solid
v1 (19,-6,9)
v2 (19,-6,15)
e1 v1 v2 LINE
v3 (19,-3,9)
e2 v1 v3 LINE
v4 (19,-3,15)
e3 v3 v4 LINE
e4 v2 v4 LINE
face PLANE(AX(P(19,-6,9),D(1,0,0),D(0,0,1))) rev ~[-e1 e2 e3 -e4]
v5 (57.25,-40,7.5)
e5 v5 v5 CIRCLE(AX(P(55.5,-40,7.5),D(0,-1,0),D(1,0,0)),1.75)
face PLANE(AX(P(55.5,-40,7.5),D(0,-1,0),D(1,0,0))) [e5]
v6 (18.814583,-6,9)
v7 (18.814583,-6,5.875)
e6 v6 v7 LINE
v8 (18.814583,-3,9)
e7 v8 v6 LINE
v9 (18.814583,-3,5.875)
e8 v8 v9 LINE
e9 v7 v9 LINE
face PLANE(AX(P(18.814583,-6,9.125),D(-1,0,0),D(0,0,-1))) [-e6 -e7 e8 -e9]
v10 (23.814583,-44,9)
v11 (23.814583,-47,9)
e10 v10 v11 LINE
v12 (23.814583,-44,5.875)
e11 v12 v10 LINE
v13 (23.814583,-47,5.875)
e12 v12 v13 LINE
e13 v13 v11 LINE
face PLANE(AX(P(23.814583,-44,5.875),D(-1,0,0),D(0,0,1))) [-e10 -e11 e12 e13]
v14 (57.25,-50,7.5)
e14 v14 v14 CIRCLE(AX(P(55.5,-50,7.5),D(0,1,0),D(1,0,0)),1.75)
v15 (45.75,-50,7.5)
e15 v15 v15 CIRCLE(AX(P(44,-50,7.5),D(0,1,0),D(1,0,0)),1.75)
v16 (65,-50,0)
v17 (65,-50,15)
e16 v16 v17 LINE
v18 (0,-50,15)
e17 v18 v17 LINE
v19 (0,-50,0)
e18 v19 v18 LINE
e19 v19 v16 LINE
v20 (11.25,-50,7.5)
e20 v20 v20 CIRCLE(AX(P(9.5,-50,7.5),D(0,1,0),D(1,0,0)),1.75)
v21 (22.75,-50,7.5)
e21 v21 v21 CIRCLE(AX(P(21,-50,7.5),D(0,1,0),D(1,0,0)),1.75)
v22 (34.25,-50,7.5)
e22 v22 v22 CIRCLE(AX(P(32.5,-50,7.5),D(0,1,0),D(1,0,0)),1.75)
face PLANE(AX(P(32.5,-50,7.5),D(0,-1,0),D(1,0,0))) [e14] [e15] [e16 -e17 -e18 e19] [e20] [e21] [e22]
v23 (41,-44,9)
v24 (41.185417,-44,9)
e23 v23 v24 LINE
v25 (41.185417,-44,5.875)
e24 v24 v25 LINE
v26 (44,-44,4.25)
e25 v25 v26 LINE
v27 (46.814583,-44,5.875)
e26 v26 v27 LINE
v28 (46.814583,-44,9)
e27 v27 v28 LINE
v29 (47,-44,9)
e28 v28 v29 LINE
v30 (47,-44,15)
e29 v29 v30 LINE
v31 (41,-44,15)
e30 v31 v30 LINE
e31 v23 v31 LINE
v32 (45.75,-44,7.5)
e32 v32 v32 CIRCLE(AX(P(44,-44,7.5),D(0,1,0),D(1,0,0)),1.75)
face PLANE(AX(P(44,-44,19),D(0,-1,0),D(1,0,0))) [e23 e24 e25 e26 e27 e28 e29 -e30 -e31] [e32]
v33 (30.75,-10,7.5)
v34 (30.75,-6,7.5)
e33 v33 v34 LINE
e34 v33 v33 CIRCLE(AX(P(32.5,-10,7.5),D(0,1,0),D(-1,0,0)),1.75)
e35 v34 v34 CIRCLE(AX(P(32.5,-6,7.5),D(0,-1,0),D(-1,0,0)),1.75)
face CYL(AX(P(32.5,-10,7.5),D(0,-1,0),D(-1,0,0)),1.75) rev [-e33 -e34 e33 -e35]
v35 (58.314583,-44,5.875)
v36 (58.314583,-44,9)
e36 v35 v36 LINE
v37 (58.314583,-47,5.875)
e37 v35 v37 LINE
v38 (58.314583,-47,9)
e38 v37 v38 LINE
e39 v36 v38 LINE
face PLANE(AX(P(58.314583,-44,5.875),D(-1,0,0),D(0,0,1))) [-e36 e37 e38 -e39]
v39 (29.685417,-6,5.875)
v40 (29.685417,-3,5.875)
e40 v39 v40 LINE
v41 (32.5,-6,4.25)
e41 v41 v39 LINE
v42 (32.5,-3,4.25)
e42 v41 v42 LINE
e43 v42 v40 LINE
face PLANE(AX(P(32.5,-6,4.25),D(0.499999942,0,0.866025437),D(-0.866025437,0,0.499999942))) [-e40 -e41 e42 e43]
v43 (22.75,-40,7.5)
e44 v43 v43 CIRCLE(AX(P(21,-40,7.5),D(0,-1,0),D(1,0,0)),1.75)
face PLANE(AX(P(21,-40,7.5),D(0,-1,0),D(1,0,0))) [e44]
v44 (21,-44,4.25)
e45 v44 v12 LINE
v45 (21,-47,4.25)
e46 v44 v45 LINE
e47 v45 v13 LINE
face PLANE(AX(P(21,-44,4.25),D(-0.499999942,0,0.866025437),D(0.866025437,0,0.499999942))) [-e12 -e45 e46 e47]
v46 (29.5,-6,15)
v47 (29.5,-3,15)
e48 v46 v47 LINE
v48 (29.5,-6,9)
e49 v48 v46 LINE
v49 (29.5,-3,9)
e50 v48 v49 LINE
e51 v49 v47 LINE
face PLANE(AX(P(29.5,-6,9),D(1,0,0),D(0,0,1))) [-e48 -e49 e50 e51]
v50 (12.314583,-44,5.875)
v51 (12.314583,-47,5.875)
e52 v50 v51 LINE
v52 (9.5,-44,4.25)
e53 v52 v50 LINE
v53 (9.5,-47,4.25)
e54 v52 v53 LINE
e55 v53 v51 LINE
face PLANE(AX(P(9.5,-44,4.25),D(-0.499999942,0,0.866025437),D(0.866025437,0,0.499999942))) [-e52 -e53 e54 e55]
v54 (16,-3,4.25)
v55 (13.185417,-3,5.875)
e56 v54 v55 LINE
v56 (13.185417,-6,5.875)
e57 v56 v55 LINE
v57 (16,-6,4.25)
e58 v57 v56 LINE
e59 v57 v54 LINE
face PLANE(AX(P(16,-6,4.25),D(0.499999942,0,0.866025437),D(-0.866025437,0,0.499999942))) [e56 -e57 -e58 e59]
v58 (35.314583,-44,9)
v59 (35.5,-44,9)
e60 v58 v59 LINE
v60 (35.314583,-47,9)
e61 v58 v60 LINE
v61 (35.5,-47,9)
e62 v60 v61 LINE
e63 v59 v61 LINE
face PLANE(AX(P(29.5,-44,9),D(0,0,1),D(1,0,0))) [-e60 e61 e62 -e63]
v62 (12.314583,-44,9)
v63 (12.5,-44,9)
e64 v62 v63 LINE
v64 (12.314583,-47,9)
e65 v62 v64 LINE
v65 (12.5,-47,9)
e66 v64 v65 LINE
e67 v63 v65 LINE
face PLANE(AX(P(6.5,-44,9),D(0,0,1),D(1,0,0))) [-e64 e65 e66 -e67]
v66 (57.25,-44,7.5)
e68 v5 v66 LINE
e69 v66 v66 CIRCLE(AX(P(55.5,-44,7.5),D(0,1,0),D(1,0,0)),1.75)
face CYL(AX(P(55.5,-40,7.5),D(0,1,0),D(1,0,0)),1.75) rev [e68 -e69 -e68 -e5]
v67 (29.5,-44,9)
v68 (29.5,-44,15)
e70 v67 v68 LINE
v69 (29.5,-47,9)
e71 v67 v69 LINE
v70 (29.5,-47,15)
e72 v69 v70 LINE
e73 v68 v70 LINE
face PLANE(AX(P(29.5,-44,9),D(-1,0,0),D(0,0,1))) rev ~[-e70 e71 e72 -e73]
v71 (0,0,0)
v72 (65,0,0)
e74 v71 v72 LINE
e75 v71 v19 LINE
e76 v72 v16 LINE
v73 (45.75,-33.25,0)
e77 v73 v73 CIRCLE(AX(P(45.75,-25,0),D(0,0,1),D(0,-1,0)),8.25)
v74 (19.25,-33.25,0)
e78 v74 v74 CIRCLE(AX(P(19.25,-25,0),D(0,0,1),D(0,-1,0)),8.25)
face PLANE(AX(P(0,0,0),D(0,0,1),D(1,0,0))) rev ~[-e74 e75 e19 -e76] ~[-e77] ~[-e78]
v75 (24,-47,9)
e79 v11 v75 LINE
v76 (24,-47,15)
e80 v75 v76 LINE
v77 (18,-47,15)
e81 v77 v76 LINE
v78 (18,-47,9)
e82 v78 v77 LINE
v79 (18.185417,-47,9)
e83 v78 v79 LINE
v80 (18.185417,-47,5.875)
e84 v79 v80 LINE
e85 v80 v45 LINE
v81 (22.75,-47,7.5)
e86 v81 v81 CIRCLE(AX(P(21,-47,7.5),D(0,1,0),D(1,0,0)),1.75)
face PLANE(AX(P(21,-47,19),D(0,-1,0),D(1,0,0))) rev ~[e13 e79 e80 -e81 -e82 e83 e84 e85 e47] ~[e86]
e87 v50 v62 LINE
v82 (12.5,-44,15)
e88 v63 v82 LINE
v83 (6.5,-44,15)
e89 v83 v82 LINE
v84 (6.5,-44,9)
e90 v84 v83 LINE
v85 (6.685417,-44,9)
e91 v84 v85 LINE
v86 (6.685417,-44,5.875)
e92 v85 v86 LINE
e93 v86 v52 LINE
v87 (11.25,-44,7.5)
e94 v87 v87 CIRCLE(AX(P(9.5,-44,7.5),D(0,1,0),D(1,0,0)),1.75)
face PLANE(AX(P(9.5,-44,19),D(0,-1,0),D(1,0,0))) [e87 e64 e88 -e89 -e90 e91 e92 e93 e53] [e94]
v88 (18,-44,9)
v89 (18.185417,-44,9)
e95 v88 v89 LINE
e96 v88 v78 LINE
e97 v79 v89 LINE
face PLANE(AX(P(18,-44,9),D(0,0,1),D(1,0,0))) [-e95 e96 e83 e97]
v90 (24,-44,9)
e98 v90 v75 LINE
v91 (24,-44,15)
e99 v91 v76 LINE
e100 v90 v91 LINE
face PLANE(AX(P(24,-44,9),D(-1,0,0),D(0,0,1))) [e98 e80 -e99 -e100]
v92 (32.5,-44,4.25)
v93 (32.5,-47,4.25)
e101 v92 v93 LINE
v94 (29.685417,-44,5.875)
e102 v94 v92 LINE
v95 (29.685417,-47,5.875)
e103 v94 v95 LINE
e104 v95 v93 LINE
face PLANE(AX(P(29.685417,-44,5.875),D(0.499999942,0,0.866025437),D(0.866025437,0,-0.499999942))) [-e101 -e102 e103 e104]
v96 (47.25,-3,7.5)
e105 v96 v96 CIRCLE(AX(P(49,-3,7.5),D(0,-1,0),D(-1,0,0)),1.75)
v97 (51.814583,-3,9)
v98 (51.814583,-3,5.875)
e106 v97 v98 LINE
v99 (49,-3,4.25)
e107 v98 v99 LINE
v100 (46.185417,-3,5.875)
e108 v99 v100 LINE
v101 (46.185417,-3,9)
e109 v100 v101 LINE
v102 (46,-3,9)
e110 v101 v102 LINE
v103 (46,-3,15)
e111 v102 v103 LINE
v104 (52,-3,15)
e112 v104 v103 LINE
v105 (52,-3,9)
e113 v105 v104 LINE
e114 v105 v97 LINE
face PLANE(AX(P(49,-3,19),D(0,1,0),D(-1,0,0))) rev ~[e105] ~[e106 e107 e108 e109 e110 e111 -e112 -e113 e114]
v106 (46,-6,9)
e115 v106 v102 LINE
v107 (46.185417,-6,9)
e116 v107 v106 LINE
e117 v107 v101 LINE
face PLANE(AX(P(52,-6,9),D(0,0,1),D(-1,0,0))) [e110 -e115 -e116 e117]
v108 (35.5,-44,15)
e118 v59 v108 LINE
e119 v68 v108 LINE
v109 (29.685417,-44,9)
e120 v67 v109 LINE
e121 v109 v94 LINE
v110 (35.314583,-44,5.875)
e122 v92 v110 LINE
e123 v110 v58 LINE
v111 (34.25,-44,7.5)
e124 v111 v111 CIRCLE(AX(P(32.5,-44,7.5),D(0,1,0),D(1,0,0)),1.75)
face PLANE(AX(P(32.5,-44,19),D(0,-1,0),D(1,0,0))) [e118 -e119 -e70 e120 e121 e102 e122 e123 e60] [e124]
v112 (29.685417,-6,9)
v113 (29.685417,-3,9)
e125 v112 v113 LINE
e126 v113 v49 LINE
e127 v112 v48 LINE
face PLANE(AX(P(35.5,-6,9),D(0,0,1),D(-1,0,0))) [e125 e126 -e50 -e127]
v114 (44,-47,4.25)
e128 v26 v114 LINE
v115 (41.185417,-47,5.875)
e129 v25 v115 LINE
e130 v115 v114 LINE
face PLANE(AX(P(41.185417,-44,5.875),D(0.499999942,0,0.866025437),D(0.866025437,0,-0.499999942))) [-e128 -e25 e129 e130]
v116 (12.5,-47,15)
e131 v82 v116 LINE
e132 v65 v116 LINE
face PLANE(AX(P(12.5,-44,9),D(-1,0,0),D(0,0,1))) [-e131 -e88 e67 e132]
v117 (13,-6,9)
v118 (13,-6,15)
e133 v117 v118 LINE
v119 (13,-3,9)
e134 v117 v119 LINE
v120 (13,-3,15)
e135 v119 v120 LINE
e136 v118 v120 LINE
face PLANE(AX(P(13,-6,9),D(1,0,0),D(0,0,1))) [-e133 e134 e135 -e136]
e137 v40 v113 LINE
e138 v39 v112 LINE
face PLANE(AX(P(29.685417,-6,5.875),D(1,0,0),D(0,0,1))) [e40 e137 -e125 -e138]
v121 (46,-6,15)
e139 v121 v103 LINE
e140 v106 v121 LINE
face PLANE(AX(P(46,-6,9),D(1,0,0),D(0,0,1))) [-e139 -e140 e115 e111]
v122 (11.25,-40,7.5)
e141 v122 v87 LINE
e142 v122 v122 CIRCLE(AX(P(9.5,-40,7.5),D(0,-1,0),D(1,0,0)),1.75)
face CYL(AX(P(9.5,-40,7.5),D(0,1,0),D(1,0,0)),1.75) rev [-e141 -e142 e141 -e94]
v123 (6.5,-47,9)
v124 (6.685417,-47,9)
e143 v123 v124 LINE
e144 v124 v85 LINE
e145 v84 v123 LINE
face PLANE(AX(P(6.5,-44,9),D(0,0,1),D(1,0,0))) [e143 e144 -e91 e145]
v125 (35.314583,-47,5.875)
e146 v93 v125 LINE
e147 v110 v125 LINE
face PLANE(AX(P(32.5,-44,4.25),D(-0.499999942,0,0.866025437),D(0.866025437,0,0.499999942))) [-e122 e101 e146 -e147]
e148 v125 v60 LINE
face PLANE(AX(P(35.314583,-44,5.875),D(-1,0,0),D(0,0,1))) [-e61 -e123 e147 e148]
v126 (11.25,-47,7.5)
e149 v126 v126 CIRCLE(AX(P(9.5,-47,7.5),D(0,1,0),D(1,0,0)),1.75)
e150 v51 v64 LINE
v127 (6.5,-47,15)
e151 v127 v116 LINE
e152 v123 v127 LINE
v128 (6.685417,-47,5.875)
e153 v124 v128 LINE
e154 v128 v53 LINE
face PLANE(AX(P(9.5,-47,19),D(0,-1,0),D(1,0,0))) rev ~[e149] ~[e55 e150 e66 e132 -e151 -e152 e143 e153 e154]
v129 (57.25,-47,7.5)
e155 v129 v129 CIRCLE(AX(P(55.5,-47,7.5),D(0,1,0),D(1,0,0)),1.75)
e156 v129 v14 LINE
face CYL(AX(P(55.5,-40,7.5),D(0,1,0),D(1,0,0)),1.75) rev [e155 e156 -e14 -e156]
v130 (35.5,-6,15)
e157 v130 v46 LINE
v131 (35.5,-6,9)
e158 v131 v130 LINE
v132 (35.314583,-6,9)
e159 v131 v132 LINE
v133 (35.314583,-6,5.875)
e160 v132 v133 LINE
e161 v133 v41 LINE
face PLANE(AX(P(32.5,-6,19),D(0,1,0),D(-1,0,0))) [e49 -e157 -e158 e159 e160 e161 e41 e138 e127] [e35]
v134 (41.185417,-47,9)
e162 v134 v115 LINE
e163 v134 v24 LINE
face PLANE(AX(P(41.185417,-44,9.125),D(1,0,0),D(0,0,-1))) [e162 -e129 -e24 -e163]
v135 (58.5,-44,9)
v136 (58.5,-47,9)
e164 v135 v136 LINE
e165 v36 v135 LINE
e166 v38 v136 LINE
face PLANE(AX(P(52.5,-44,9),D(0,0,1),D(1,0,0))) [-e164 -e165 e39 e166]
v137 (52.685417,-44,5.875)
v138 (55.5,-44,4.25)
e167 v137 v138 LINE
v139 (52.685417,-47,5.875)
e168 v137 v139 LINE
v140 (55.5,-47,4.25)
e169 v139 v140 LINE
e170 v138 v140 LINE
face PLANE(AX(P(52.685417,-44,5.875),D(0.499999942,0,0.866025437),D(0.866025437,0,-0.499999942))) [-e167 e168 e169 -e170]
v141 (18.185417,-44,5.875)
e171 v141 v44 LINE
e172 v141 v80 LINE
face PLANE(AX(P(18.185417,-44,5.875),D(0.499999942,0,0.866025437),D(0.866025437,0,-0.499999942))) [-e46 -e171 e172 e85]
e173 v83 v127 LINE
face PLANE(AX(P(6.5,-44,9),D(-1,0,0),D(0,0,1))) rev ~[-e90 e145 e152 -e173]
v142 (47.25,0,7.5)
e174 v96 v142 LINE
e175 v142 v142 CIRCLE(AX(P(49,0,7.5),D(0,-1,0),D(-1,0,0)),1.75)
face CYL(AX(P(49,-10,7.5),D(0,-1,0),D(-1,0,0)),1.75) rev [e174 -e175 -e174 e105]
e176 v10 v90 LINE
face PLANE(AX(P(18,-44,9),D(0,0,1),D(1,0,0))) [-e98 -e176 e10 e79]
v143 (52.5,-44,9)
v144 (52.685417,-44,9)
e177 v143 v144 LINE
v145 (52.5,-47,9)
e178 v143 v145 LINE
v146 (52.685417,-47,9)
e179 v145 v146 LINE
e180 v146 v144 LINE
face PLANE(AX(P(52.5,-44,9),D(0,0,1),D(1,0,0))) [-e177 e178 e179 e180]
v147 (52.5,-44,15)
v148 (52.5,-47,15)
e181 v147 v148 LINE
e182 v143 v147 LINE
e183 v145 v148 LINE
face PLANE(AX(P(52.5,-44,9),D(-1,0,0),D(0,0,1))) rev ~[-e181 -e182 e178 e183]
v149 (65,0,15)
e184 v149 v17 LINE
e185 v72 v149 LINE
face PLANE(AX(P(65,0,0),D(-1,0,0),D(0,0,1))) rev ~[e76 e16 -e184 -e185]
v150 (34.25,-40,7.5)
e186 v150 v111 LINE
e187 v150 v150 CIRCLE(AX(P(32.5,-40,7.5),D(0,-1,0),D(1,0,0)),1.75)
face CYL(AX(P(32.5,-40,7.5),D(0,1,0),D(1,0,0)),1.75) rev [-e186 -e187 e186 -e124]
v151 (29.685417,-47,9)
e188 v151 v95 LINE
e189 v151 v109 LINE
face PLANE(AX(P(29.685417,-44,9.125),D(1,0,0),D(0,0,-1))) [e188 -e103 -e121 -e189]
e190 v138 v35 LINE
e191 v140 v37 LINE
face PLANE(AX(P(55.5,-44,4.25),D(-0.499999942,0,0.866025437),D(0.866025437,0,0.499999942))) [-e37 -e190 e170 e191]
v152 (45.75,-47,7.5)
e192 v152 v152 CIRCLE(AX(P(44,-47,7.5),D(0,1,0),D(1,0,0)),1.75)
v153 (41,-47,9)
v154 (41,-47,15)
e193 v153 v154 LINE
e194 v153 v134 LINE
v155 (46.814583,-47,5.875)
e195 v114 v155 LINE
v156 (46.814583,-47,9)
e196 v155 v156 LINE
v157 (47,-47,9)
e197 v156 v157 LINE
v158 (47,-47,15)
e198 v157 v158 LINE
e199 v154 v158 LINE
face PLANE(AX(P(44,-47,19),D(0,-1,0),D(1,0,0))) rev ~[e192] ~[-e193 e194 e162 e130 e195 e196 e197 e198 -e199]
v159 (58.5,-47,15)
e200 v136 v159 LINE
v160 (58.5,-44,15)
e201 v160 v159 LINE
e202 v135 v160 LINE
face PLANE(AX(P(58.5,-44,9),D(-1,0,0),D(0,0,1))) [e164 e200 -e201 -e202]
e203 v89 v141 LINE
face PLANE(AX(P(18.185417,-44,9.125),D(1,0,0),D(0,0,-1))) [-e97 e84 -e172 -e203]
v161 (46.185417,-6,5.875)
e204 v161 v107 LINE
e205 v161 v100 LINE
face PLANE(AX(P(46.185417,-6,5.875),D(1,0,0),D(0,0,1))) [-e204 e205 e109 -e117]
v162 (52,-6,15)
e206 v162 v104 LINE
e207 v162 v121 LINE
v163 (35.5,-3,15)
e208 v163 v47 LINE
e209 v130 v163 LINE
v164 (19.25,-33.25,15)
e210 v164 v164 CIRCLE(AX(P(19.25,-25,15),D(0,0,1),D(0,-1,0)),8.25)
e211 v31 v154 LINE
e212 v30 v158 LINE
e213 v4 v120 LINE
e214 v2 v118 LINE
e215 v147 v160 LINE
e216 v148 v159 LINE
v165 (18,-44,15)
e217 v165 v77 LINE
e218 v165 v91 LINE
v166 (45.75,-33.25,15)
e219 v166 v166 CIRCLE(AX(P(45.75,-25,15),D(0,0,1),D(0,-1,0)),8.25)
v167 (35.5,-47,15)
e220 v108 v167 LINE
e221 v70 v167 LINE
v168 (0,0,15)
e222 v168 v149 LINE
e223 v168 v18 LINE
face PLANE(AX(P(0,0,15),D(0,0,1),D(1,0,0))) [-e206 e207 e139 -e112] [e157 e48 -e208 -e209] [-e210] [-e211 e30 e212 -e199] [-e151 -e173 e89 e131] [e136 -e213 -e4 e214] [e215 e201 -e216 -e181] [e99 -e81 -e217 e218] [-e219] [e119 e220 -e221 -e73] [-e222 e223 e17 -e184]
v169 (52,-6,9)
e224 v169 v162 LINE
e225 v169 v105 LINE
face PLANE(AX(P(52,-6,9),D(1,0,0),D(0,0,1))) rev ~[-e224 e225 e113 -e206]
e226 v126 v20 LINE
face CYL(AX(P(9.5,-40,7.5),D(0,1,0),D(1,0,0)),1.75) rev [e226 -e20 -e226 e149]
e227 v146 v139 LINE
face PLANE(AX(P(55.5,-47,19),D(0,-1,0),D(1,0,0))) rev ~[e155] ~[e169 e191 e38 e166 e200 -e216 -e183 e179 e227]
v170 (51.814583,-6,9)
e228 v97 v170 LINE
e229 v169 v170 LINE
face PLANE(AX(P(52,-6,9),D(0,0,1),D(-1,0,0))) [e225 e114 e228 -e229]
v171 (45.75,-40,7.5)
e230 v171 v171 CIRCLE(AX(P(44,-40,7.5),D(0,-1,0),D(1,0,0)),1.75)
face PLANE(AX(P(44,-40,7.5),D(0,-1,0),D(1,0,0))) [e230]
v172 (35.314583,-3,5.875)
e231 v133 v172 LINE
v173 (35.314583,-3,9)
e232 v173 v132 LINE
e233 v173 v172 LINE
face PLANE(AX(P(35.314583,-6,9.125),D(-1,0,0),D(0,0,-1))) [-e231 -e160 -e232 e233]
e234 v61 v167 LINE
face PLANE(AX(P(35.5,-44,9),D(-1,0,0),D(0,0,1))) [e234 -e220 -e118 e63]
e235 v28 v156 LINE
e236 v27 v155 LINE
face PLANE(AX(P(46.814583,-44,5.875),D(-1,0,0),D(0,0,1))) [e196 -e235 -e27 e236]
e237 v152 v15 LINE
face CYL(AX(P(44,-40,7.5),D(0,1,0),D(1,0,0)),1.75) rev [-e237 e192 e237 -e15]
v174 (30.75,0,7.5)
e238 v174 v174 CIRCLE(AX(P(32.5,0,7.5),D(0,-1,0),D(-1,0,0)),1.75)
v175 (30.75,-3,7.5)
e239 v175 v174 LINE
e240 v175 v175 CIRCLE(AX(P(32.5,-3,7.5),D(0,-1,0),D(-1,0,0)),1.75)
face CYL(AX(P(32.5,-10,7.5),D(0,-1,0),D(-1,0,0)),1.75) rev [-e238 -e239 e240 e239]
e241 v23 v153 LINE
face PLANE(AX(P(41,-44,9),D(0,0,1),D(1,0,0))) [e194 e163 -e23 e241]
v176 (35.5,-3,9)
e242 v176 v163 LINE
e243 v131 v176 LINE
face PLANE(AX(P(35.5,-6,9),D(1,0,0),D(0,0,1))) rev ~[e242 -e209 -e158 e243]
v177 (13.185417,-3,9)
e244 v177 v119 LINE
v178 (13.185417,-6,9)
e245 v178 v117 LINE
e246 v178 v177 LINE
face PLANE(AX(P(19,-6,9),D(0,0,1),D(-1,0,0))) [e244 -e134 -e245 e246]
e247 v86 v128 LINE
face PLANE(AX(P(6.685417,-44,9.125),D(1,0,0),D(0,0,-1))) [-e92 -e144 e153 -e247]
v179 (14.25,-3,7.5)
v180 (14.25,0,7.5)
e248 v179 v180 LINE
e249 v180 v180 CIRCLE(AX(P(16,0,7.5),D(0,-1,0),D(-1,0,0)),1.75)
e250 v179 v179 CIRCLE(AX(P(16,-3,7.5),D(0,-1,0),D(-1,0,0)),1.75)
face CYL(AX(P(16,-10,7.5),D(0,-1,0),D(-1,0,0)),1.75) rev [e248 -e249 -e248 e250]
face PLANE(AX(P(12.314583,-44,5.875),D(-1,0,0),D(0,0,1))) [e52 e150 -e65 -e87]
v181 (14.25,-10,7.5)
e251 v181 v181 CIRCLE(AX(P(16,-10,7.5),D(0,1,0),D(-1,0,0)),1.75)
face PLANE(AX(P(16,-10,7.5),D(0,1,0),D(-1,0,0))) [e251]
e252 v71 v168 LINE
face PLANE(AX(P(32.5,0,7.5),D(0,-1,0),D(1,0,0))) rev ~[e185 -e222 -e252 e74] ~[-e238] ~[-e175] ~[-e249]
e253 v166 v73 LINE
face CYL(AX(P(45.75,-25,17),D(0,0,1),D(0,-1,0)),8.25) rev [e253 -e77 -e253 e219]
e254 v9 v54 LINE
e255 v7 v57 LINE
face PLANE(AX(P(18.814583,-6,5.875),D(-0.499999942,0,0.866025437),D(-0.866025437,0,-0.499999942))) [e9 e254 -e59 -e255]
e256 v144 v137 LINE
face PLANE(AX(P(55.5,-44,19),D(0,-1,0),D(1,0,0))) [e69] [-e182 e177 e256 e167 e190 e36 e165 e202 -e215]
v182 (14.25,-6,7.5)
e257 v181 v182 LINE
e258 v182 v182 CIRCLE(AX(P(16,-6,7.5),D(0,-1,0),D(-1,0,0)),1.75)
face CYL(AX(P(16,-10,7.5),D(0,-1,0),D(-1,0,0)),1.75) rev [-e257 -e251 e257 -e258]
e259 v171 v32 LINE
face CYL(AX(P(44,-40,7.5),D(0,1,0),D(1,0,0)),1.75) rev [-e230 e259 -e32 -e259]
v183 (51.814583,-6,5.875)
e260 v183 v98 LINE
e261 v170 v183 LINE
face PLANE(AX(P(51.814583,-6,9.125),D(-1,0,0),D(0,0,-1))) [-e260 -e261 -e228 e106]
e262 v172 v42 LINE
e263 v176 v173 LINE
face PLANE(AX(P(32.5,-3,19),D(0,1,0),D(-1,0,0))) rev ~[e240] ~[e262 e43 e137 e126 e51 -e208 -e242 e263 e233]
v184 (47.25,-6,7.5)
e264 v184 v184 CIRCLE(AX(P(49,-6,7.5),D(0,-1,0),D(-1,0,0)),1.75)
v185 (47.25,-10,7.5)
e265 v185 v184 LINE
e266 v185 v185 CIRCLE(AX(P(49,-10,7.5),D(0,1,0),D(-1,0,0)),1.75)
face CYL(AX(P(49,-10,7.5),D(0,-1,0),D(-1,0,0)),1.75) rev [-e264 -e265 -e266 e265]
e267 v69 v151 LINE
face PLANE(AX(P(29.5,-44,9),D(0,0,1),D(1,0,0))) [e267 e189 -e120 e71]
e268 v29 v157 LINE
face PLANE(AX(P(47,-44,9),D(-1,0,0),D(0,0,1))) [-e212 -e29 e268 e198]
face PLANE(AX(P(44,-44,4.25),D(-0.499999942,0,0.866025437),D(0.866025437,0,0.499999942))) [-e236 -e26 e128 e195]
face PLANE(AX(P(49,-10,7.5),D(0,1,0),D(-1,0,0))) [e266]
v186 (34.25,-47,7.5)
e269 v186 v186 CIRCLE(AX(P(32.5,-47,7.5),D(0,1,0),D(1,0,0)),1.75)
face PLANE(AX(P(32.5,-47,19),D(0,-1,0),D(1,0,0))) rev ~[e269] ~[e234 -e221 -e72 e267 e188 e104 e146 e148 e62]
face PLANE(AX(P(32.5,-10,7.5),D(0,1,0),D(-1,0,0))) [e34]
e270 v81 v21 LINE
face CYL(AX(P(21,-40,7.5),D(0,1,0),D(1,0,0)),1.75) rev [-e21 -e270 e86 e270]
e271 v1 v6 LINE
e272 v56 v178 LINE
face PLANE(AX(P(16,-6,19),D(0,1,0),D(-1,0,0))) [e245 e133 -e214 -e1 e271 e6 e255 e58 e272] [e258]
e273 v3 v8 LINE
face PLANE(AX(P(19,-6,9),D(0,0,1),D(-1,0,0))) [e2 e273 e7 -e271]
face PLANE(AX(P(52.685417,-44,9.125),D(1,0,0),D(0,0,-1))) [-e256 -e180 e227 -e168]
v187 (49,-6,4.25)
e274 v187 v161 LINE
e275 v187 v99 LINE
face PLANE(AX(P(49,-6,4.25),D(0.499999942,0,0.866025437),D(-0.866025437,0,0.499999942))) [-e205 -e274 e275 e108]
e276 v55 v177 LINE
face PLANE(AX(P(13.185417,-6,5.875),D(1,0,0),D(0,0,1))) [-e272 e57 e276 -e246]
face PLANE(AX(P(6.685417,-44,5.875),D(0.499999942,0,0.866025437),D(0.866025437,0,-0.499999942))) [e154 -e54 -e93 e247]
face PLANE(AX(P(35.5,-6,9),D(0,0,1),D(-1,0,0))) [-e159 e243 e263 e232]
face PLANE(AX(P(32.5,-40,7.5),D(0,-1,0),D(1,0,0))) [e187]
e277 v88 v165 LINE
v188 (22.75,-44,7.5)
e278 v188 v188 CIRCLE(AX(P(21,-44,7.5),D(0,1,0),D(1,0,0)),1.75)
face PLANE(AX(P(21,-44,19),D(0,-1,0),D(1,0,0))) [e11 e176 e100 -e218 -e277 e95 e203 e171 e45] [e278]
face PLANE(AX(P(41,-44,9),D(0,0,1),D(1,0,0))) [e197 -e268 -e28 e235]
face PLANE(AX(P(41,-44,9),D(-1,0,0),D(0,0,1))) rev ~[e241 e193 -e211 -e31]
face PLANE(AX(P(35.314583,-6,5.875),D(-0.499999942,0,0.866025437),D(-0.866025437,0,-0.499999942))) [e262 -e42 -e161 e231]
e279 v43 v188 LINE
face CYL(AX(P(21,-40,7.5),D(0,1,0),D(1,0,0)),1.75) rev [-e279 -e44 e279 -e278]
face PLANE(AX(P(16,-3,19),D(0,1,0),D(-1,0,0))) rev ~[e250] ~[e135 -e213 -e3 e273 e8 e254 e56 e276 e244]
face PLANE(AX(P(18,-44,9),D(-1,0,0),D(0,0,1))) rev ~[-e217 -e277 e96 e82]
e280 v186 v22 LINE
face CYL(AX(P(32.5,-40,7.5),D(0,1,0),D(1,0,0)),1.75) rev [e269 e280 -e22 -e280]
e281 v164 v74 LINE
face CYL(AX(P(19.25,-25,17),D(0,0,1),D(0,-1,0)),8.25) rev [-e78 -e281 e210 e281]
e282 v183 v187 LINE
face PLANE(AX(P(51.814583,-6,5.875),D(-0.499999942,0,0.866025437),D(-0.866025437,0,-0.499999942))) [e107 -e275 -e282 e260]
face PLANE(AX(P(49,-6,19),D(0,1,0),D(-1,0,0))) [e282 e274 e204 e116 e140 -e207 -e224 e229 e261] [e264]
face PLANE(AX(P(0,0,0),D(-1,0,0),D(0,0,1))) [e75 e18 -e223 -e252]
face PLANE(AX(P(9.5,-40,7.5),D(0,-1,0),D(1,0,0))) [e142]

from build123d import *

# Parameters (mm, degrees)
PRISM012_DEPTH            = 3
CYLINDER014_R             = 1.75
CYLINDER014_DEPTH         = 20
BOX014_W                  = 6
BOX014_H                  = 20
BOX014_DEPTH              = 3
FUSION015_PLACEMENT_ANGLE = 180
PRISM013_DEPTH            = 3
CYLINDER015_R             = 1.75
CYLINDER015_DEPTH         = 20
BOX015_W                  = 6
BOX015_H                  = 20
BOX015_DEPTH              = 3
FUSION016_PLACEMENT_ANGLE = 180
PRISM014_DEPTH            = 3
CYLINDER016_R             = 1.75
CYLINDER016_DEPTH         = 20
BOX016_W                  = 6
BOX016_H                  = 20
BOX016_DEPTH              = 3
FUSION017_PLACEMENT_ANGLE = 180
PRISM008_DEPTH            = 3
CYLINDER010_R             = 1.75
CYLINDER010_DEPTH         = 20
BOX010_W                  = 6
BOX010_H                  = 20
BOX010_DEPTH              = 3
PRISM009_DEPTH            = 3
CYLINDER011_R             = 1.75
CYLINDER011_DEPTH         = 20
BOX011_W                  = 6
BOX011_H                  = 20
BOX011_DEPTH              = 3
PRISM010_DEPTH            = 3
CYLINDER012_R             = 1.75
CYLINDER012_DEPTH         = 20
BOX012_W                  = 6
BOX012_H                  = 20
BOX012_DEPTH              = 3
PRISM007_DEPTH            = 3
CYLINDER009_R             = 1.75
CYLINDER009_DEPTH         = 20
BOX009_W                  = 6
BOX009_H                  = 20
BOX009_DEPTH              = 3
PRISM011_DEPTH            = 3
CYLINDER013_R             = 1.75
CYLINDER013_DEPTH         = 20
BOX013_W                  = 6
BOX013_H                  = 20
BOX013_DEPTH              = 3
CYLINDER001_R             = 8.25
CYLINDER001_DEPTH         = 20
CYLINDER_R                = 8.25
CYLINDER_DEPTH            = 20
FUSION_PITCH_ANGLE        = -90
FUSION_PLACEMENT_ANGLE    = 90
BOX_W                     = 65
BOX_H                     = 15
BOX_DEPTH                 = 50
CUT002_PLACEMENT_ANGLE    = 90


with BuildPart() as prisma012:
    # Prism012 → Prism012 (new body)
    with BuildSketch(Plane(origin=(34, 7.5, 3), x_dir=(0, 1, 0), z_dir=(0, 0, 1))):
        Polygon((3.25, 0), (1.625, 2.814583), (-1.625, 2.814583), (-3.25, 0), (-1.625, -2.814583), (1.625, -2.814583), align=None)
    extrude(amount=PRISM012_DEPTH)


with BuildPart() as cilindro014:
    # Cylinder014 → Cylinder014 (new body)
    with BuildSketch(Plane(origin=(34, 7.5, -1), x_dir=(1, 0, 0), z_dir=(0, 0, 1))):
        Circle(CYLINDER014_R)
    extrude(amount=CYLINDER014_DEPTH)


with BuildPart() as fusion015:
    # Box014 → Box014 (new body)
    with BuildSketch(Plane(origin=(31, 9, 3), x_dir=(1, 0, 0), z_dir=(0, 0, 1))):
        with Locations((3, 10)):
            Rectangle(BOX014_W, BOX014_H)
    extrude(amount=BOX014_DEPTH)

    # Fusion015: union Prisma012, Cilindro014
    add(prisma012.part)
    add(cilindro014.part)


with BuildPart() as fusion015_1:
    # Fusion015 placement: moved
    add(fusion015.part.moved(Location((44, 0, 9))).rotate(Axis((44, 0, 9), (0, 1, 0)), FUSION015_PLACEMENT_ANGLE))


with BuildPart() as prisma013:
    # Prism013 → Prism013 (new body)
    with BuildSketch(Plane(origin=(34, 7.5, 3), x_dir=(0, 1, 0), z_dir=(0, 0, 1))):
        Polygon((3.25, 0), (1.625, 2.814583), (-1.625, 2.814583), (-3.25, 0), (-1.625, -2.814583), (1.625, -2.814583), align=None)
    extrude(amount=PRISM013_DEPTH)


with BuildPart() as cilindro015:
    # Cylinder015 → Cylinder015 (new body)
    with BuildSketch(Plane(origin=(34, 7.5, -1), x_dir=(1, 0, 0), z_dir=(0, 0, 1))):
        Circle(CYLINDER015_R)
    extrude(amount=CYLINDER015_DEPTH)


with BuildPart() as fusion016:
    # Box015 → Box015 (new body)
    with BuildSketch(Plane(origin=(31, 9, 3), x_dir=(1, 0, 0), z_dir=(0, 0, 1))):
        with Locations((3, 10)):
            Rectangle(BOX015_W, BOX015_H)
    extrude(amount=BOX015_DEPTH)

    # Fusion016: union Prisma013, Cilindro015
    add(prisma013.part)
    add(cilindro015.part)


with BuildPart() as fusion016_1:
    # Fusion016 placement: moved
    add(fusion016.part.moved(Location((60.5, 0, 9))).rotate(Axis((60.5, 0, 9), (0, 1, 0)), FUSION016_PLACEMENT_ANGLE))


with BuildPart() as prisma014:
    # Prism014 → Prism014 (new body)
    with BuildSketch(Plane(origin=(34, 7.5, 3), x_dir=(0, 1, 0), z_dir=(0, 0, 1))):
        Polygon((3.25, 0), (1.625, 2.814583), (-1.625, 2.814583), (-3.25, 0), (-1.625, -2.814583), (1.625, -2.814583), align=None)
    extrude(amount=PRISM014_DEPTH)


with BuildPart() as cilindro016:
    # Cylinder016 → Cylinder016 (new body)
    with BuildSketch(Plane(origin=(34, 7.5, -1), x_dir=(1, 0, 0), z_dir=(0, 0, 1))):
        Circle(CYLINDER016_R)
    extrude(amount=CYLINDER016_DEPTH)


with BuildPart() as fusion018:
    # Box016 → Box016 (new body)
    with BuildSketch(Plane(origin=(31, 9, 3), x_dir=(1, 0, 0), z_dir=(0, 0, 1))):
        with Locations((3, 10)):
            Rectangle(BOX016_W, BOX016_H)
    extrude(amount=BOX016_DEPTH)

    # Fusion017: union Prisma014, Cilindro016
    add(prisma014.part)
    add(cilindro016.part)


with BuildPart() as fusion018_1:
    # Fusion017 placement: moved
    add(fusion018.part.moved(Location((77, 0, 9))).rotate(Axis((77, 0, 9), (0, 1, 0)), FUSION017_PLACEMENT_ANGLE))

    # Fusion018: union Fusion015, Fusion016
    add(fusion015_1.part)
    add(fusion016_1.part)


with BuildPart() as fusion018_2:
    # Fusion018 placement: moved
    add(fusion018_1.part.moved(Location((6, 0, 0))))


with BuildPart() as prisma008:
    # Prism008 → Prism008 (new body)
    with BuildSketch(Plane(origin=(34, 7.5, 3), x_dir=(0, 1, 0), z_dir=(0, 0, 1))):
        Polygon((3.25, 0), (1.625, 2.814583), (-1.625, 2.814583), (-3.25, 0), (-1.625, -2.814583), (1.625, -2.814583), align=None)
    extrude(amount=PRISM008_DEPTH)


with BuildPart() as cilindro010:
    # Cylinder010 → Cylinder010 (new body)
    with BuildSketch(Plane(origin=(34, 7.5, -1), x_dir=(1, 0, 0), z_dir=(0, 0, 1))):
        Circle(CYLINDER010_R)
    extrude(amount=CYLINDER010_DEPTH)


with BuildPart() as fusion010:
    # Box010 → Box010 (new body)
    with BuildSketch(Plane(origin=(31, 9, 3), x_dir=(1, 0, 0), z_dir=(0, 0, 1))):
        with Locations((3, 10)):
            Rectangle(BOX010_W, BOX010_H)
    extrude(amount=BOX010_DEPTH)

    # Fusion010: union Prisma008, Cilindro010
    add(prisma008.part)
    add(cilindro010.part)


with BuildPart() as fusion010_1:
    # Fusion010 placement: moved
    add(fusion010.part.moved(Location((-9.5, 0, 41))))


with BuildPart() as prisma009:
    # Prism009 → Prism009 (new body)
    with BuildSketch(Plane(origin=(34, 7.5, 3), x_dir=(0, 1, 0), z_dir=(0, 0, 1))):
        Polygon((3.25, 0), (1.625, 2.814583), (-1.625, 2.814583), (-3.25, 0), (-1.625, -2.814583), (1.625, -2.814583), align=None)
    extrude(amount=PRISM009_DEPTH)


with BuildPart() as cilindro011:
    # Cylinder011 → Cylinder011 (new body)
    with BuildSketch(Plane(origin=(34, 7.5, -1), x_dir=(1, 0, 0), z_dir=(0, 0, 1))):
        Circle(CYLINDER011_R)
    extrude(amount=CYLINDER011_DEPTH)


with BuildPart() as fusion011:
    # Box011 → Box011 (new body)
    with BuildSketch(Plane(origin=(31, 9, 3), x_dir=(1, 0, 0), z_dir=(0, 0, 1))):
        with Locations((3, 10)):
            Rectangle(BOX011_W, BOX011_H)
    extrude(amount=BOX011_DEPTH)

    # Fusion011: union Prisma009, Cilindro011
    add(prisma009.part)
    add(cilindro011.part)


with BuildPart() as fusion011_1:
    # Fusion011 placement: moved
    add(fusion011.part.moved(Location((2, 0, 41))))


with BuildPart() as prisma010:
    # Prism010 → Prism010 (new body)
    with BuildSketch(Plane(origin=(34, 7.5, 3), x_dir=(0, 1, 0), z_dir=(0, 0, 1))):
        Polygon((3.25, 0), (1.625, 2.814583), (-1.625, 2.814583), (-3.25, 0), (-1.625, -2.814583), (1.625, -2.814583), align=None)
    extrude(amount=PRISM010_DEPTH)


with BuildPart() as cilindro012:
    # Cylinder012 → Cylinder012 (new body)
    with BuildSketch(Plane(origin=(34, 7.5, -1), x_dir=(1, 0, 0), z_dir=(0, 0, 1))):
        Circle(CYLINDER012_R)
    extrude(amount=CYLINDER012_DEPTH)


with BuildPart() as fusion012:
    # Box012 → Box012 (new body)
    with BuildSketch(Plane(origin=(31, 9, 3), x_dir=(1, 0, 0), z_dir=(0, 0, 1))):
        with Locations((3, 10)):
            Rectangle(BOX012_W, BOX012_H)
    extrude(amount=BOX012_DEPTH)

    # Fusion012: union Prisma010, Cilindro012
    add(prisma010.part)
    add(cilindro012.part)


with BuildPart() as fusion012_1:
    # Fusion012 placement: moved
    add(fusion012.part.moved(Location((13.5, 0, 41))))


with BuildPart() as prisma007:
    # Prism007 → Prism007 (new body)
    with BuildSketch(Plane(origin=(34, 7.5, 3), x_dir=(0, 1, 0), z_dir=(0, 0, 1))):
        Polygon((3.25, 0), (1.625, 2.814583), (-1.625, 2.814583), (-3.25, 0), (-1.625, -2.814583), (1.625, -2.814583), align=None)
    extrude(amount=PRISM007_DEPTH)


with BuildPart() as cilindro009:
    # Cylinder009 → Cylinder009 (new body)
    with BuildSketch(Plane(origin=(34, 7.5, -1), x_dir=(1, 0, 0), z_dir=(0, 0, 1))):
        Circle(CYLINDER009_R)
    extrude(amount=CYLINDER009_DEPTH)


with BuildPart() as fusion009:
    # Box009 → Box009 (new body)
    with BuildSketch(Plane(origin=(31, 9, 3), x_dir=(1, 0, 0), z_dir=(0, 0, 1))):
        with Locations((3, 10)):
            Rectangle(BOX009_W, BOX009_H)
    extrude(amount=BOX009_DEPTH)

    # Fusion009: union Prisma007, Cilindro009
    add(prisma007.part)
    add(cilindro009.part)


with BuildPart() as fusion009_1:
    # Fusion009 placement: moved
    add(fusion009.part.moved(Location((-21, 0, 41))))


with BuildPart() as prisma011:
    # Prism011 → Prism011 (new body)
    with BuildSketch(Plane(origin=(34, 7.5, 3), x_dir=(0, 1, 0), z_dir=(0, 0, 1))):
        Polygon((3.25, 0), (1.625, 2.814583), (-1.625, 2.814583), (-3.25, 0), (-1.625, -2.814583), (1.625, -2.814583), align=None)
    extrude(amount=PRISM011_DEPTH)


with BuildPart() as cilindro013:
    # Cylinder013 → Cylinder013 (new body)
    with BuildSketch(Plane(origin=(34, 7.5, -1), x_dir=(1, 0, 0), z_dir=(0, 0, 1))):
        Circle(CYLINDER013_R)
    extrude(amount=CYLINDER013_DEPTH)


with BuildPart() as fusion014:
    # Box013 → Box013 (new body)
    with BuildSketch(Plane(origin=(31, 9, 3), x_dir=(1, 0, 0), z_dir=(0, 0, 1))):
        with Locations((3, 10)):
            Rectangle(BOX013_W, BOX013_H)
    extrude(amount=BOX013_DEPTH)

    # Fusion013: union Prisma011, Cilindro013
    add(prisma011.part)
    add(cilindro013.part)


with BuildPart() as fusion014_1:
    # Fusion013 placement: moved
    add(fusion014.part.moved(Location((25, 0, 41))))

    # Fusion014: union Fusion010, Fusion011, Fusion012, Fusion009
    add(fusion010_1.part)
    add(fusion011_1.part)
    add(fusion012_1.part)
    add(fusion009_1.part)


with BuildPart() as fusion014_2:
    # Fusion014 placement: moved
    add(fusion014_1.part.moved(Location((-3.5, 0, 0))))


with BuildPart() as cilindro001:
    # Cylinder001 → Cylinder001 (new body)
    with BuildSketch(Plane(origin=(10, 36.5, 0), x_dir=(1, 0, 0), z_dir=(0, 0, 1))):
        Circle(CYLINDER001_R)
    extrude(amount=CYLINDER001_DEPTH)


with BuildPart() as fusion:
    # Cylinder → Cylinder (new body)
    with BuildSketch(Plane(origin=(10, 10, 0), x_dir=(1, 0, 0), z_dir=(0, 0, 1))):
        Circle(CYLINDER_R)
    extrude(amount=CYLINDER_DEPTH)

    # Fusion: union Cilindro001
    add(cilindro001.part)


with BuildPart() as fusion_1:
    # Fusion pitch: moved
    add(fusion.part.rotate(Axis((0, 0, 0), (0, 1, 0)), FUSION_PITCH_ANGLE))


with BuildPart() as fusion_2:
    # Fusion placement: moved
    add(fusion_1.part.moved(Location((55.75, 17, 15))).rotate(Axis((55.75, 17, 15), (0, 0, 1)), FUSION_PLACEMENT_ANGLE))


with BuildPart() as cut002:
    # Box → Box (new body)
    with BuildSketch(Plane.XY):
        with Locations((32.5, 7.5)):
            Rectangle(BOX_W, BOX_H)
    extrude(amount=BOX_DEPTH)

    # Cut: cut Fusion
    add(fusion_2.part, mode=Mode.SUBTRACT)

    # Cut001: cut Fusion014
    add(fusion014_2.part, mode=Mode.SUBTRACT)

    # Cut002: cut Fusion018
    add(fusion018_2.part, mode=Mode.SUBTRACT)


with BuildPart() as cut002_1:
    # Cut002 placement: moved
    add(cut002.part.rotate(Axis((0, 0, 0), (1, 0, 0)), CUT002_PLACEMENT_ANGLE))


solid = cut002_1.part
